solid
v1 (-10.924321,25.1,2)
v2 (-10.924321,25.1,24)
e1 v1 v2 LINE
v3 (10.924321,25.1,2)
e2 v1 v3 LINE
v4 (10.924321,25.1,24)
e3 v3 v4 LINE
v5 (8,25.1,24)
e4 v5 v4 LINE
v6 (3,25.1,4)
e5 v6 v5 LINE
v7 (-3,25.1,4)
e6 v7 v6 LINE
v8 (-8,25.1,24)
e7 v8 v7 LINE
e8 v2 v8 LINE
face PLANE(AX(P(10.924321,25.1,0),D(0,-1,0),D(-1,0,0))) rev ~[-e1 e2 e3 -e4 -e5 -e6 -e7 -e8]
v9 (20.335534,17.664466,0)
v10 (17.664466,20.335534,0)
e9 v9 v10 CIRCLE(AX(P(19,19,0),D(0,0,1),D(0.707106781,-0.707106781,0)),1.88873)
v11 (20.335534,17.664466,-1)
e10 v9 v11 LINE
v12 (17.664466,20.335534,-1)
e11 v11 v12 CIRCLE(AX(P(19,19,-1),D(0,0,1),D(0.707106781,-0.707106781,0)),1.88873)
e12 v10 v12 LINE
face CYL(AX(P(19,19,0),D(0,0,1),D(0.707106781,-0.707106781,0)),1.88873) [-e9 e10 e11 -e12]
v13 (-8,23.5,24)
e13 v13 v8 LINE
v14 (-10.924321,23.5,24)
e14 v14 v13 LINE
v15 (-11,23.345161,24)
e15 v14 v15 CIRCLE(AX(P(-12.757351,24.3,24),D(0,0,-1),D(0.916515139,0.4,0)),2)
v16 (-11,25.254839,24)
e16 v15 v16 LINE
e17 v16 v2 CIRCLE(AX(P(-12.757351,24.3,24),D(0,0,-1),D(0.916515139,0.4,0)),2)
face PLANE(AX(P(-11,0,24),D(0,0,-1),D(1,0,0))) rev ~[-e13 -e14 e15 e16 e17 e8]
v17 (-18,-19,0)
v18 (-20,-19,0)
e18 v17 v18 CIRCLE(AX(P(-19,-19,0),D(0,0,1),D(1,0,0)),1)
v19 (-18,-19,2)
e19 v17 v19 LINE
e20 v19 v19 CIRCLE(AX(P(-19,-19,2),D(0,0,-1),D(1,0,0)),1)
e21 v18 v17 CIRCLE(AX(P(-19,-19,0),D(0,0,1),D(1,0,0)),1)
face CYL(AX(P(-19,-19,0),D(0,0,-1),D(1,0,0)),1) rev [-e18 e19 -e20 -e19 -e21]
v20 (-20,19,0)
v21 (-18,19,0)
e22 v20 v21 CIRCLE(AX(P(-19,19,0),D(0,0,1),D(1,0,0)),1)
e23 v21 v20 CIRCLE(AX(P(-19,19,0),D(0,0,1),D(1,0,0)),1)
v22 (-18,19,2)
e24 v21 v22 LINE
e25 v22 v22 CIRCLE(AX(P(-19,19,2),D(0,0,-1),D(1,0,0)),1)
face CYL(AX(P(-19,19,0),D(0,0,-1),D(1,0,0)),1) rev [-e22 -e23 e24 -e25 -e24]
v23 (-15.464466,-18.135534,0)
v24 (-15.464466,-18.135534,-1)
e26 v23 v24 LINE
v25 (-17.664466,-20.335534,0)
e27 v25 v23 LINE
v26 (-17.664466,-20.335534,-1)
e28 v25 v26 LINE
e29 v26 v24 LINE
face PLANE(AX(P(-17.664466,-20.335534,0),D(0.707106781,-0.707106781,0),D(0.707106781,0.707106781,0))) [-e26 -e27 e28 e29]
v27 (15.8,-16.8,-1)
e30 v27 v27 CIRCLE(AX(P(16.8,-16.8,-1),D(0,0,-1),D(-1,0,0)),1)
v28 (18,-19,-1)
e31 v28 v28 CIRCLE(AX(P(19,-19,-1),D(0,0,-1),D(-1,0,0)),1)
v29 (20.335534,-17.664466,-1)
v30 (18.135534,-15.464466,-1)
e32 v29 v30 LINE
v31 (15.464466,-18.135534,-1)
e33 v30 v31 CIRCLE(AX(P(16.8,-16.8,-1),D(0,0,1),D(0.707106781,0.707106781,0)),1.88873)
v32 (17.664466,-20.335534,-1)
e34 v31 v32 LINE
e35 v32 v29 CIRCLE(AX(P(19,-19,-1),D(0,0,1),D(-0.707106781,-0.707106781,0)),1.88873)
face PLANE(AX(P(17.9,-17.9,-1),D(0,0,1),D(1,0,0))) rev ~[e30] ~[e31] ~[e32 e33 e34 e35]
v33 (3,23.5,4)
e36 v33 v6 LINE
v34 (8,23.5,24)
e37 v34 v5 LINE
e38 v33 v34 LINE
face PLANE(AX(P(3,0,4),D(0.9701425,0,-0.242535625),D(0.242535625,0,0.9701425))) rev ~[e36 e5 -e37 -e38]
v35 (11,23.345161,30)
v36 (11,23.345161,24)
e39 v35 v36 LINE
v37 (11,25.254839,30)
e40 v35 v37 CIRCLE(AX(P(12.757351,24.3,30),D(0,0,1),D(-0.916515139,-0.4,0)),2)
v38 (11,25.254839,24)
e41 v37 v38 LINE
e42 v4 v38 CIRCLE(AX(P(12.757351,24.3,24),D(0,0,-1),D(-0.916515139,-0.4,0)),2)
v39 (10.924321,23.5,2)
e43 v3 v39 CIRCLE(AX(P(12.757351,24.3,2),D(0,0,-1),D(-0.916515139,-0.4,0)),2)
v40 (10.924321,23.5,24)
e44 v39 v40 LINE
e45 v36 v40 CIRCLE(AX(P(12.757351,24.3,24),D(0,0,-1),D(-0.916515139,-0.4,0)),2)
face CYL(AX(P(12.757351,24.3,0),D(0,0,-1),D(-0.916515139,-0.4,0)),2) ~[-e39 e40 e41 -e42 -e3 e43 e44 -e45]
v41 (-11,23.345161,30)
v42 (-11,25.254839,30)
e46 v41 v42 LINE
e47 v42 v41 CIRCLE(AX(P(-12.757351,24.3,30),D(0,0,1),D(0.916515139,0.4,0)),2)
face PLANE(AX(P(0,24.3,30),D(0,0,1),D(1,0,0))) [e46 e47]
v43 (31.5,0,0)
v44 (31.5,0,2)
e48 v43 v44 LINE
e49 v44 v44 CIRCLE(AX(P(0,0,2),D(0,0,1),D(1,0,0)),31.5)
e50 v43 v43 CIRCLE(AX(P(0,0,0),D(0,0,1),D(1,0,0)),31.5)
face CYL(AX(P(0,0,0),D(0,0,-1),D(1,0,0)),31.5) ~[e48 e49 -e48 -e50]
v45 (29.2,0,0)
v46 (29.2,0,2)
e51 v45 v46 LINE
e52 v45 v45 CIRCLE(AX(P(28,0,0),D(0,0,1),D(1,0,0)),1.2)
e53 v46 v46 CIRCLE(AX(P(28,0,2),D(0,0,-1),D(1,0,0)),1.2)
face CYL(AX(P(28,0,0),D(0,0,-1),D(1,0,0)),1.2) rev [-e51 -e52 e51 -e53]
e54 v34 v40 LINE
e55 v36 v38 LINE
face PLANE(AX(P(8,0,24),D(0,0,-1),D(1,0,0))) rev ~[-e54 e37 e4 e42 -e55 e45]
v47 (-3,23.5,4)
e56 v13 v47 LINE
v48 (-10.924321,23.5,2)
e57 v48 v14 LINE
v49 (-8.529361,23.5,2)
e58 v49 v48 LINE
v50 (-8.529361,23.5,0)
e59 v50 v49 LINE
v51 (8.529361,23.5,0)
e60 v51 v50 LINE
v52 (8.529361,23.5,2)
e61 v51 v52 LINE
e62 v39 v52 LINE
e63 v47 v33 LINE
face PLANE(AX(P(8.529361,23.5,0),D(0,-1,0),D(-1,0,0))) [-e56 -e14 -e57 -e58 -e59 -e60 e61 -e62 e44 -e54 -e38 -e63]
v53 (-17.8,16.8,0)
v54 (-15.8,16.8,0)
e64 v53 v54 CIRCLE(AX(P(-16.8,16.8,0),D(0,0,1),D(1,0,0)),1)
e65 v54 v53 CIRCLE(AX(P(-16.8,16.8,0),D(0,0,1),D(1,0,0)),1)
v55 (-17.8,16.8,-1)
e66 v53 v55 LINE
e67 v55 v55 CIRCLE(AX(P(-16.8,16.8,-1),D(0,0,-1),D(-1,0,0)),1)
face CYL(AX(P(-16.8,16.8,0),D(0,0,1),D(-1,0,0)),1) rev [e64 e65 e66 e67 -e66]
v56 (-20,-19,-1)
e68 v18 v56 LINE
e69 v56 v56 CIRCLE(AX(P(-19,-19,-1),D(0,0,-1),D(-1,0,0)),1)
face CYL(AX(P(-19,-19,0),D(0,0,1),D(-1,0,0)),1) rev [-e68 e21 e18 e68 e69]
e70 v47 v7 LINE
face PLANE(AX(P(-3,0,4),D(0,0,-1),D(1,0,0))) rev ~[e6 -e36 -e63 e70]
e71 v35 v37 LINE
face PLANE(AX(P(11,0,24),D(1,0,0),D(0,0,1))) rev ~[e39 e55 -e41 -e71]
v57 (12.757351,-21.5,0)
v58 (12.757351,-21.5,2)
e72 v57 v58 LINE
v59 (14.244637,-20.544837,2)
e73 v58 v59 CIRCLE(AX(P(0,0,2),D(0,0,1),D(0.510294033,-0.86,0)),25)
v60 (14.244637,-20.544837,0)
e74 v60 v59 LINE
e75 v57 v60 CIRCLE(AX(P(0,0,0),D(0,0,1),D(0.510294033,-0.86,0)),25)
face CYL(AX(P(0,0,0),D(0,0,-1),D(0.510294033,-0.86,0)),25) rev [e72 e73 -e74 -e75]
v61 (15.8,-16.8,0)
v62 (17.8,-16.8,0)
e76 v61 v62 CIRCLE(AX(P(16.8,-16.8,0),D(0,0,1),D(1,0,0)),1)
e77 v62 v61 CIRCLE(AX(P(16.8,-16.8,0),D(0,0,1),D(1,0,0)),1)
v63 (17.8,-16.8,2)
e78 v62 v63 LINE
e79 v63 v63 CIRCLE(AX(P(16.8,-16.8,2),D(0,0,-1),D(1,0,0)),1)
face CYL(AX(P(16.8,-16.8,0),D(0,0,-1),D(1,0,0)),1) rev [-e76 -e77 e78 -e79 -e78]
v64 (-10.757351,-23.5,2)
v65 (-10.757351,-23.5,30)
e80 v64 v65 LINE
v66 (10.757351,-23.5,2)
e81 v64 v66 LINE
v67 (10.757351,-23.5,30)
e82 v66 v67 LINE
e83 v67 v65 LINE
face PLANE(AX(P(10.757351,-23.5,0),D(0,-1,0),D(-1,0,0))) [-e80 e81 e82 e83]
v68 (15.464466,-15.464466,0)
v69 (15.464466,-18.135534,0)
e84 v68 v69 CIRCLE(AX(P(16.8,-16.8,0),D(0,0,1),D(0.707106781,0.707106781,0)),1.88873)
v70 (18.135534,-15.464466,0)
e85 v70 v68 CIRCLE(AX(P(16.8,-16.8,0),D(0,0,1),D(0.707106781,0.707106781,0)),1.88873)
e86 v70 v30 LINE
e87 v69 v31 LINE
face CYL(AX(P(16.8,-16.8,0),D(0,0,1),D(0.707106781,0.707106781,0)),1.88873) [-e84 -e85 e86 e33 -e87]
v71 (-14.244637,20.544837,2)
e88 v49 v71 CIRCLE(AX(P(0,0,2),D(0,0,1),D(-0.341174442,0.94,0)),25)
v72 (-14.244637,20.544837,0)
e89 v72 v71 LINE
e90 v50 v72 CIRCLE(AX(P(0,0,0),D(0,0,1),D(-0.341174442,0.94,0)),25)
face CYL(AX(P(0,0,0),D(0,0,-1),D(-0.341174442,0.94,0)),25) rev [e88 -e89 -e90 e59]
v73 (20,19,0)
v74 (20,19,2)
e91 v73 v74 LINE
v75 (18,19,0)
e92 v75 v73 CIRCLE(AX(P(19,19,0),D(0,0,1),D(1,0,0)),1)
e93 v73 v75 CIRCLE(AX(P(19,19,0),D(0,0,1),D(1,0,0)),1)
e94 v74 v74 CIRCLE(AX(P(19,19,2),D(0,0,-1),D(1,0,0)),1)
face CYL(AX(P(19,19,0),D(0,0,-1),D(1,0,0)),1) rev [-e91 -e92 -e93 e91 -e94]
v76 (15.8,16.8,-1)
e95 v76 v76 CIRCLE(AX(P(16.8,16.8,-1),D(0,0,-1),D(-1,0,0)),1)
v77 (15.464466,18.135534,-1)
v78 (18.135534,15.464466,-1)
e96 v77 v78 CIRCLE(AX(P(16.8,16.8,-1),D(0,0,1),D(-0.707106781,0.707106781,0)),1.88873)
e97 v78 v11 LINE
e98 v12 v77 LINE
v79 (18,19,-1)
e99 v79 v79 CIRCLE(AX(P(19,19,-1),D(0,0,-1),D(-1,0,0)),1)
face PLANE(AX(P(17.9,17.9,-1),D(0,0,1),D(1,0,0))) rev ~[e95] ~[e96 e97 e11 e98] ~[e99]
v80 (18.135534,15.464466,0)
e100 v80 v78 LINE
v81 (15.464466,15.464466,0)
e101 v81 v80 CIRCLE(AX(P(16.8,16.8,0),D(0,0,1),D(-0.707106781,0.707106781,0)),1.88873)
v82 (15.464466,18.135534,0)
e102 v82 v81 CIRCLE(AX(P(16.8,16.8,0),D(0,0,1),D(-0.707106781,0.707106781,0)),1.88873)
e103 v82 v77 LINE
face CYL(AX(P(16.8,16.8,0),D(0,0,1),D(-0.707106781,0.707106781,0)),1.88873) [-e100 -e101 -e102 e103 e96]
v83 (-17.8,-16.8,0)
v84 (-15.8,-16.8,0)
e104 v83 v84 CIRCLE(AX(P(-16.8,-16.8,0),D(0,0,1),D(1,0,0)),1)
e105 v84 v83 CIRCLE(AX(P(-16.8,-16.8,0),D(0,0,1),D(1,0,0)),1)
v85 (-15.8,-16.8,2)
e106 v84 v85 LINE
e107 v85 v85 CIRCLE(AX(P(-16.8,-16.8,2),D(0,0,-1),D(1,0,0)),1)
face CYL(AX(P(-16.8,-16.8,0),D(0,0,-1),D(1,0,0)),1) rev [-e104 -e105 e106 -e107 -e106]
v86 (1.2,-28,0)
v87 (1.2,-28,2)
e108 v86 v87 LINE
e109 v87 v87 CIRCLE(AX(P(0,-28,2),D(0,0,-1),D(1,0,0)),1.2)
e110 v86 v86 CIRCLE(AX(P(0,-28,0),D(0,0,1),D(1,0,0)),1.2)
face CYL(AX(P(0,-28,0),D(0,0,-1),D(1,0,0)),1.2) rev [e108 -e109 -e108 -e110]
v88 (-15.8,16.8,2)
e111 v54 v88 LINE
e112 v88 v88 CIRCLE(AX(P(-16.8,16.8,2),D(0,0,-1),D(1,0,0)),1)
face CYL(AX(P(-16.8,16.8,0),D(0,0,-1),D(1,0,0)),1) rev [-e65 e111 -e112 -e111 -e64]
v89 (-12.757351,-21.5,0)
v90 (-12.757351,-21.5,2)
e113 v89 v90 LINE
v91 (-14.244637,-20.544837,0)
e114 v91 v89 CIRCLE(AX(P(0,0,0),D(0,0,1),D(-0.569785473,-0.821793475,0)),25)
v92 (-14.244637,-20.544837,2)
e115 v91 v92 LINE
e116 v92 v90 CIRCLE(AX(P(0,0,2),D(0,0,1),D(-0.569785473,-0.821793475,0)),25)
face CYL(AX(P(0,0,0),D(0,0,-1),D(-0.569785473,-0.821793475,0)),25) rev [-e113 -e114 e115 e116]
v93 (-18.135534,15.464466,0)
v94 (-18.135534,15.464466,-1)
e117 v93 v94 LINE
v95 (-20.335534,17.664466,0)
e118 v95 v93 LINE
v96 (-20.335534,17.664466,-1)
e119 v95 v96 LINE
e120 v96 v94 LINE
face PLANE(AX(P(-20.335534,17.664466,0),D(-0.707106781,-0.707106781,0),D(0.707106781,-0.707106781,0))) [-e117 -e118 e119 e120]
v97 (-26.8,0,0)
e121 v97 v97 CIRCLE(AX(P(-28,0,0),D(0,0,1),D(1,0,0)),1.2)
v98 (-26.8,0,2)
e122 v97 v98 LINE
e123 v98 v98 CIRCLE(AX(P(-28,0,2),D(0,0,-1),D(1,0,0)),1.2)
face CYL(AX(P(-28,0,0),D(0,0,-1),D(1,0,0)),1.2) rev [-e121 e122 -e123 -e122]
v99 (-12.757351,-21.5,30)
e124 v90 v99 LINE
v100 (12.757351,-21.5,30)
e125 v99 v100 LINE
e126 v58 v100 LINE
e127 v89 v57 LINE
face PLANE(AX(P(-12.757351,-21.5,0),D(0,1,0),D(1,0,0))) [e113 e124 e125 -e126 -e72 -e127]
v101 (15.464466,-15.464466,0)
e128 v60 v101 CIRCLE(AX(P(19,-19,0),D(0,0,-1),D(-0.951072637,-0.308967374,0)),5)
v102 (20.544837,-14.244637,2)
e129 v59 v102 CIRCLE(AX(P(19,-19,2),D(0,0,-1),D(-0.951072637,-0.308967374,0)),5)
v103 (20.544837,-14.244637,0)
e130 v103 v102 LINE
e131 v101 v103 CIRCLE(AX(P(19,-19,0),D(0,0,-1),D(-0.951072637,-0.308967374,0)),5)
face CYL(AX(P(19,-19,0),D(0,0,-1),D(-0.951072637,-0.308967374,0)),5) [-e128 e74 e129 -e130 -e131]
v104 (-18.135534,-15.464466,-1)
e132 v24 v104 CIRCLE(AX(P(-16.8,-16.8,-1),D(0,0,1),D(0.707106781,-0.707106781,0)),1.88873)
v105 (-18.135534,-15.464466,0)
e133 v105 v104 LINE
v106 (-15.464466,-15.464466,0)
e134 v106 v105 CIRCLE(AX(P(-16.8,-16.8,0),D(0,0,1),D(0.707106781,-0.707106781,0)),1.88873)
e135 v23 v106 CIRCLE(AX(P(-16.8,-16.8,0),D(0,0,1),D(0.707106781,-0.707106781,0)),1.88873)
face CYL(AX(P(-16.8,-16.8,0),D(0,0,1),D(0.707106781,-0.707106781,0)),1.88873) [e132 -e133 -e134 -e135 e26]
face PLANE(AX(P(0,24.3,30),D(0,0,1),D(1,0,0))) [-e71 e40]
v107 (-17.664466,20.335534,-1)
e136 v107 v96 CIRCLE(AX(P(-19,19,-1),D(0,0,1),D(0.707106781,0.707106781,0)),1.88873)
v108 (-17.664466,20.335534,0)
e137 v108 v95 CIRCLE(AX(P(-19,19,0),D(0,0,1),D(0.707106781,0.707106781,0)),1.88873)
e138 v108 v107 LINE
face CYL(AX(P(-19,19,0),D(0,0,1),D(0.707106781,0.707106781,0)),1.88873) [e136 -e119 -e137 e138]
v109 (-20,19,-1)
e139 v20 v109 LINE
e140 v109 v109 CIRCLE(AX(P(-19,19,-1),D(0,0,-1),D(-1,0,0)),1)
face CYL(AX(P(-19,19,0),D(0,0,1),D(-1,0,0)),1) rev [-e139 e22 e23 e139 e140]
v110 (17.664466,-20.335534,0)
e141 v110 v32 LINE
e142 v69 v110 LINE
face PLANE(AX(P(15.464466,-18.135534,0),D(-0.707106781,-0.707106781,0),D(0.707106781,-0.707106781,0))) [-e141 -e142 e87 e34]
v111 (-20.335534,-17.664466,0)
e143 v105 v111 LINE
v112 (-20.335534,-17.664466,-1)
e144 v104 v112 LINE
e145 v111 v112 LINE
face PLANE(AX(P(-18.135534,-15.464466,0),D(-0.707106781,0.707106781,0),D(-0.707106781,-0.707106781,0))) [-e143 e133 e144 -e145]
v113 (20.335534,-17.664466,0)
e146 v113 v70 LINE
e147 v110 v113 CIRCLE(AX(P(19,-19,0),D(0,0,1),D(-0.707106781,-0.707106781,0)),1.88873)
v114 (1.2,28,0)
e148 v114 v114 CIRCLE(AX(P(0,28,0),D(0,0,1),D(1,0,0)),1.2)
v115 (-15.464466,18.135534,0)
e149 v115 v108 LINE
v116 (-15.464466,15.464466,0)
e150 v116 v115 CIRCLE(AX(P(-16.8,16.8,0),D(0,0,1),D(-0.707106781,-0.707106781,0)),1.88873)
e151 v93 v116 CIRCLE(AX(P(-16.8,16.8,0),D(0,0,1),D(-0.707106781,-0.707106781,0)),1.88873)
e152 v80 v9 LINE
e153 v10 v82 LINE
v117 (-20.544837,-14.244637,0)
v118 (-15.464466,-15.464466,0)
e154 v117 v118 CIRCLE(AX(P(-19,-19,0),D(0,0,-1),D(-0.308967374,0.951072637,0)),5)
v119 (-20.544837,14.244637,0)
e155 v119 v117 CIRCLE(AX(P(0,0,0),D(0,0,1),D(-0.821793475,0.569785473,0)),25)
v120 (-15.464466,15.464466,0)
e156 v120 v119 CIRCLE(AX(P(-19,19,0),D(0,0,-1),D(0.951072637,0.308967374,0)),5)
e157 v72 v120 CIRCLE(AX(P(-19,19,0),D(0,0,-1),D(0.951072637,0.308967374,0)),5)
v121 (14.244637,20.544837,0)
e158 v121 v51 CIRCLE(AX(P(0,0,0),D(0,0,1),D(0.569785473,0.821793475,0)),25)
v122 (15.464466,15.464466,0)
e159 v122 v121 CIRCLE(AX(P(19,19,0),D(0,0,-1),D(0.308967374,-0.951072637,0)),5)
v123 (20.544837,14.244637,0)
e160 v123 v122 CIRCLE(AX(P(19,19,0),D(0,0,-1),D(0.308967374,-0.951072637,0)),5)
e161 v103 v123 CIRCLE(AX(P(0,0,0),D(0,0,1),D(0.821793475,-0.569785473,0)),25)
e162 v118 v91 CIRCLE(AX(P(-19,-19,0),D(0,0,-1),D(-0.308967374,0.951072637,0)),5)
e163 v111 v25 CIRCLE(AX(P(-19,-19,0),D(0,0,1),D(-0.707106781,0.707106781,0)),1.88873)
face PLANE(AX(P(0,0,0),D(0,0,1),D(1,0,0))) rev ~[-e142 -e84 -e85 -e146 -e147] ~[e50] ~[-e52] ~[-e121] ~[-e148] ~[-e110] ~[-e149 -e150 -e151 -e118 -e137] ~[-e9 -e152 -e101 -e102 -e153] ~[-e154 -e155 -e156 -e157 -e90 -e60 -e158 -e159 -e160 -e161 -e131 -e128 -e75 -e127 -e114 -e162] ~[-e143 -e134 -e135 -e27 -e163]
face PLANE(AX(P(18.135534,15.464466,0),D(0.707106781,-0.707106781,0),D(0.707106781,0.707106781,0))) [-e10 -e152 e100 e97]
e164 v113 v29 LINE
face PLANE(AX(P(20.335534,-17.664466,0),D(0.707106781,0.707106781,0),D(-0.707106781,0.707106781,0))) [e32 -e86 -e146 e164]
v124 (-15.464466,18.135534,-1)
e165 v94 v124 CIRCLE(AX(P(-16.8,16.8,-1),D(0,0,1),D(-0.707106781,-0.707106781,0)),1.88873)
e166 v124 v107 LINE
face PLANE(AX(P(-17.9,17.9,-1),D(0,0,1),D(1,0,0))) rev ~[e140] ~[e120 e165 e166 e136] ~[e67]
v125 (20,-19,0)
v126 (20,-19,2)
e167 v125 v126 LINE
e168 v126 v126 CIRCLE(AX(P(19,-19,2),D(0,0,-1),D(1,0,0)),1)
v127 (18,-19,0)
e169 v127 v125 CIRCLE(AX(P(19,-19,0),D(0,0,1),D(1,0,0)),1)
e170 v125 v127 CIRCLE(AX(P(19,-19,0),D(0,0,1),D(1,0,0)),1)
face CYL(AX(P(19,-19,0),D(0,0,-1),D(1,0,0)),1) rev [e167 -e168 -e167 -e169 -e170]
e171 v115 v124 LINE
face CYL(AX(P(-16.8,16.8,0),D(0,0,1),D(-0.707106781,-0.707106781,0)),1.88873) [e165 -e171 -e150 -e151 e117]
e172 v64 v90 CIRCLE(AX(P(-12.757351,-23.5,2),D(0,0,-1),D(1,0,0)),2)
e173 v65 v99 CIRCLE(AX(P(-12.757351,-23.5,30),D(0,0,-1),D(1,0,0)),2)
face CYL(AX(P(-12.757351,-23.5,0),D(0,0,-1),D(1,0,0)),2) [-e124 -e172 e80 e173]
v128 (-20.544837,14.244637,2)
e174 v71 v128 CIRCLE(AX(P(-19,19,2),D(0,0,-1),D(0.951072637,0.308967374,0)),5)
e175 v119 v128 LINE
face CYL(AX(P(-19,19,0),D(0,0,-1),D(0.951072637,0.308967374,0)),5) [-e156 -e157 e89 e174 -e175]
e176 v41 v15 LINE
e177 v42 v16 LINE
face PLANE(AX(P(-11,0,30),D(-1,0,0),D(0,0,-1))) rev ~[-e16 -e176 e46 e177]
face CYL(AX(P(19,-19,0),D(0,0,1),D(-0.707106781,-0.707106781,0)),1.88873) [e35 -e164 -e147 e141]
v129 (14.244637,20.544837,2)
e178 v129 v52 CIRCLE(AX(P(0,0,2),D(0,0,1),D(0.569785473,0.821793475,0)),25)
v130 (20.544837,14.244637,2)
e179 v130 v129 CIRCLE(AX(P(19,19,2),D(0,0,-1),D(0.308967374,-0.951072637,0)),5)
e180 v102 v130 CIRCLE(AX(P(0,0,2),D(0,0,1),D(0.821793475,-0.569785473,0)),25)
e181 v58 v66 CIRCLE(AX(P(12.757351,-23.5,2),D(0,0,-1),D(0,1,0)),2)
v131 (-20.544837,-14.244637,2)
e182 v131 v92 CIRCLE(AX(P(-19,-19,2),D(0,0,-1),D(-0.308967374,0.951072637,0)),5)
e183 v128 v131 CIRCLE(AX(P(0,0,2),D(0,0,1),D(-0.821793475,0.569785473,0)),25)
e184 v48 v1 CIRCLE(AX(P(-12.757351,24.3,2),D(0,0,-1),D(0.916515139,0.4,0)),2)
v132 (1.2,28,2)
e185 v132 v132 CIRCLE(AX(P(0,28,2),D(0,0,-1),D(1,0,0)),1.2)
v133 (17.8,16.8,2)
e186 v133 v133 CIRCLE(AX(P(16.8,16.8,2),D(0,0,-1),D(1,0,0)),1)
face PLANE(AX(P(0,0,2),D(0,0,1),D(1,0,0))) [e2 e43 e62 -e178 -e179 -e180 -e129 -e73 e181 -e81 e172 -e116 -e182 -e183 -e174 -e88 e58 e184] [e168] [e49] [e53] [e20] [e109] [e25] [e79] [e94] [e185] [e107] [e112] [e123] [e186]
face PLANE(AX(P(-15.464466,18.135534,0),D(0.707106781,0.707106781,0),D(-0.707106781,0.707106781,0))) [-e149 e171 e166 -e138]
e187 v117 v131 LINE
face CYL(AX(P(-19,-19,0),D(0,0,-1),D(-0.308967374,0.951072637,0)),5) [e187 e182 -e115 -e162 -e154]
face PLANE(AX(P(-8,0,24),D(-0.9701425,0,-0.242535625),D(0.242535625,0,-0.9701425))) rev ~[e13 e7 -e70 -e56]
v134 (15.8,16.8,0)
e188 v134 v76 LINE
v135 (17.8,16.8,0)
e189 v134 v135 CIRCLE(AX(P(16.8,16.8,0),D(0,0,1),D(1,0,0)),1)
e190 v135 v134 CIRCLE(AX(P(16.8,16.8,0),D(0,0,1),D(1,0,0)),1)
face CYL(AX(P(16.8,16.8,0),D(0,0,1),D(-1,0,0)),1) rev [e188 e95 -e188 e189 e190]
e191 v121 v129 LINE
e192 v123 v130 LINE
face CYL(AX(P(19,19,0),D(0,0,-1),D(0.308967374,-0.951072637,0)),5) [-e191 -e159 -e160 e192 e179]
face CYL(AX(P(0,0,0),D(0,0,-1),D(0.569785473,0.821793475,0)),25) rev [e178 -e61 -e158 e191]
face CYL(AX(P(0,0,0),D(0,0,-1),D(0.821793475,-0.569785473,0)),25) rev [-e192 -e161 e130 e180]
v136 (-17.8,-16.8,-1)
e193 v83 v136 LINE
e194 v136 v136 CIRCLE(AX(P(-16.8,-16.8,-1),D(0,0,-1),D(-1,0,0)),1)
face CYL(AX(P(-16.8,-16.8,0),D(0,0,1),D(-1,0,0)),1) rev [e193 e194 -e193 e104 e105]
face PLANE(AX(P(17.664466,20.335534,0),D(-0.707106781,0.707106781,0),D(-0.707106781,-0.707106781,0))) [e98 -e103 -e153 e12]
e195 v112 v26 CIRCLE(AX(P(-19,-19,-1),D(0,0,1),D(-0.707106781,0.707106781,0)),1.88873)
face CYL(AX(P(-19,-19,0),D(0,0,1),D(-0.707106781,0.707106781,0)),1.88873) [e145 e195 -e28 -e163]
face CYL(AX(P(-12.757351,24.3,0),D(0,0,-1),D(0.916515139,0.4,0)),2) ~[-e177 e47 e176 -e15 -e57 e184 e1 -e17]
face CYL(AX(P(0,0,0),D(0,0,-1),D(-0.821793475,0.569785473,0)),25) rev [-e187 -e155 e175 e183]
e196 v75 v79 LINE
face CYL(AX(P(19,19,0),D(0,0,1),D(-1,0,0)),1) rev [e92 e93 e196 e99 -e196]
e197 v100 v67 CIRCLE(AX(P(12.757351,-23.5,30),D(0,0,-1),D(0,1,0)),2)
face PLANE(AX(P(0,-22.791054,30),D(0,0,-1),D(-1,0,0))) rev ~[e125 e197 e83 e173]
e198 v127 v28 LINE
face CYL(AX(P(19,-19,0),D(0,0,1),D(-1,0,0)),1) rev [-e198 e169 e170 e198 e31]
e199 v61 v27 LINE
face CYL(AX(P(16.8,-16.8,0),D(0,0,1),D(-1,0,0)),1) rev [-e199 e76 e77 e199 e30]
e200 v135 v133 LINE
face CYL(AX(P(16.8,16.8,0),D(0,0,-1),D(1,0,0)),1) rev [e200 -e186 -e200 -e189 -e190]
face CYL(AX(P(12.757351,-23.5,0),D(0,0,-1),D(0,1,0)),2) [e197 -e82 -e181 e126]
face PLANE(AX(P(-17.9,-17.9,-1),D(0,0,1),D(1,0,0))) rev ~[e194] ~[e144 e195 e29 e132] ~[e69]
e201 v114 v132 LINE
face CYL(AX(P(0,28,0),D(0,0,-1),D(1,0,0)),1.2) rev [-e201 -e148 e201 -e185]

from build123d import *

# Parameters (mm, degrees)
SKETCH1_R           = 31.5
BOSS_EXTRUDE1_DEPTH = 2
SKETCH2_R           = 1
SKETCH2_R_2         = 1.2
CUT_EXTRUDE2_DEPTH  = 3
SKETCH5_R           = 1
BOSS_EXTRUDE3_DEPTH = 1
BOSS_EXTRUDE2_DEPTH = 30
CUT_EXTRUDE3_DEPTH  = 32.5


with BuildPart() as part:
    # Sketch1 → Boss-Extrude1 (new body)
    with BuildSketch(Plane.XY):
        Circle(SKETCH1_R)
        with BuildLine():
            Line((-12.757350822, -21.5), (12.757350822, -21.5))
            ThreePointArc((12.757350822, -21.5), (13.509438116, -21.035567066), (14.244636813, -20.544836871))
            ThreePointArc((14.244636813, -20.544836871), (15.464466094, -15.464466094), (20.544836871, -14.244636813))
            ThreePointArc((20.544836871, -14.244636813), (25, 0), (20.544836871, 14.244636813))
            ThreePointArc((20.544836871, 14.244636813), (15.464466094, 15.464466094), (14.244636813, 20.544836871))
            ThreePointArc((14.244636813, 20.544836871), (11.482464544, 22.207048611), (8.529361055, 23.5))
            Line((8.529361055, 23.5), (-8.529361055, 23.5))
            ThreePointArc((-8.529361055, 23.5), (-11.482464544, 22.207048611), (-14.244636813, 20.544836871))
            ThreePointArc((-14.244636813, 20.544836871), (-15.464466094, 15.464466094), (-20.544836871, 14.244636813))
            ThreePointArc((-20.544836871, 14.244636813), (-25, 0), (-20.544836871, -14.244636813))
            ThreePointArc((-20.544836871, -14.244636813), (-15.464466094, -15.464466094), (-14.244636813, -20.544836871))
            ThreePointArc((-14.244636813, -20.544836871), (-13.509438116, -21.035567066), (-12.757350822, -21.5))
        make_face(mode=Mode.SUBTRACT)
    extrude(amount=BOSS_EXTRUDE1_DEPTH)

    # Sketch2 → Cut-Extrude2 (cut, through all)
    with BuildSketch(Plane.XY):
        with Locations((-19, 19)):
            Circle(SKETCH2_R)
        with Locations((-16.8, 16.8)):
            Circle(SKETCH2_R)
        with Locations((19, 19)):
            Circle(SKETCH2_R)
        with Locations((16.8, 16.8)):
            Circle(SKETCH2_R)
        with Locations((-19, -19)):
            Circle(SKETCH2_R)
        with Locations((-16.8, -16.8)):
            Circle(SKETCH2_R)
        with Locations((19, -19)):
            Circle(SKETCH2_R)
        with Locations((16.8, -16.8)):
            Circle(SKETCH2_R)
        with Locations((-28, 0)):
            Circle(SKETCH2_R_2)
        with Locations((28, 0)):
            Circle(SKETCH2_R_2)
        with Locations((0, 28)):
            Circle(SKETCH2_R_2)
        with Locations((0, -28)):
            Circle(SKETCH2_R_2)
    extrude(amount=CUT_EXTRUDE2_DEPTH, mode=Mode.SUBTRACT)

    # Sketch5 → Boss-Extrude3 (add)
    with BuildSketch(Plane(origin=(0, 0, 0), x_dir=(-1, 0, 0), z_dir=(0, 0, -1))):
        with BuildLine():
            Line((-17.664466094, 20.335533906), (-15.464466094, 18.135533906))
            ThreePointArc((-15.464466094, 18.135533906), (-15.464466094, 15.464466094), (-18.135533906, 15.464466094))
            Line((-18.135533906, 15.464466094), (-20.335533906, 17.664466094))
            ThreePointArc((-20.335533906, 17.664466094), (-20.335533906, 20.335533906), (-17.664466094, 20.335533906))
        make_face()
        with Locations((-19, 19)):
            Circle(SKETCH5_R, mode=Mode.SUBTRACT)
        with Locations((-16.8, 16.8)):
            Circle(SKETCH5_R, mode=Mode.SUBTRACT)
        with BuildLine():
            Line((20.335533906, 17.664466094), (18.135533906, 15.464466094))
            ThreePointArc((18.135533906, 15.464466094), (15.464466094, 15.464466094), (15.464466094, 18.135533906))
            Line((15.464466094, 18.135533906), (17.664466094, 20.335533906))
            ThreePointArc((17.664466094, 20.335533906), (20.335533906, 20.335533906), (20.335533906, 17.664466094))
        make_face()
        with Locations((16.8, 16.8)):
            Circle(SKETCH5_R, mode=Mode.SUBTRACT)
        with Locations((19, 19)):
            Circle(SKETCH5_R, mode=Mode.SUBTRACT)
        with BuildLine():
            Line((17.664466094, -20.335533906), (15.464466094, -18.135533906))
            ThreePointArc((15.464466094, -18.135533906), (15.464466094, -15.464466094), (18.135533906, -15.464466094))
            Line((18.135533906, -15.464466094), (20.335533906, -17.664466094))
            ThreePointArc((20.335533906, -17.664466094), (20.335533906, -20.335533906), (17.664466094, -20.335533906))
        make_face()
        with Locations((16.8, -16.8)):
            Circle(SKETCH5_R, mode=Mode.SUBTRACT)
        with Locations((19, -19)):
            Circle(SKETCH5_R, mode=Mode.SUBTRACT)
        with BuildLine():
            Line((-20.335533906, -17.664466094), (-18.135533906, -15.464466094))
            ThreePointArc((-18.135533906, -15.464466094), (-15.464466094, -15.464466094), (-15.464466094, -18.135533906))
            Line((-15.464466094, -18.135533906), (-17.664466094, -20.335533906))
            ThreePointArc((-17.664466094, -20.335533906), (-20.335533906, -20.335533906), (-20.335533906, -17.664466094))
        make_face()
        with Locations((-16.8, -16.8)):
            Circle(SKETCH5_R, mode=Mode.SUBTRACT)
        with Locations((-19, -19)):
            Circle(SKETCH5_R, mode=Mode.SUBTRACT)
    extrude(amount=BOSS_EXTRUDE3_DEPTH)

    # Sketch3 → Boss-Extrude2 (add)
    with BuildSketch(Plane.XY):
        with BuildLine():
            Line((-10.924320544, 23.5), (10.924320544, 23.5))
            ThreePointArc((10.924320544, 23.5), (14.757350822, 24.3), (10.924320544, 25.1))
            Line((10.924320544, 25.1), (-10.924320544, 25.1))
            ThreePointArc((-10.924320544, 25.1), (-14.757350822, 24.3), (-10.924320544, 23.5))
        make_face()
        with BuildLine():
            Line((-12.757350822, -21.5), (12.757350822, -21.5))
            ThreePointArc((12.757350822, -21.5), (14.171564385, -24.914213562), (10.757350822, -23.5))
            Line((10.757350822, -23.5), (-10.757350822, -23.5))
            ThreePointArc((-10.757350822, -23.5), (-14.171564385, -24.914213562), (-12.757350822, -21.5))
        make_face()
    extrude(amount=BOSS_EXTRUDE2_DEPTH)

    # Sketch4 → Cut-Extrude3 (cut, through all)
    with BuildSketch(Plane(origin=(0, 0, 0), x_dir=(1, 0, 0), z_dir=(0, 1, 0))):
        Polygon((-11, -30), (-11, -24), (-8, -24), (-3, -4), (3, -4), (8, -24), (11, -24), (11, -30), align=None)
    extrude(amount=CUT_EXTRUDE3_DEPTH, mode=Mode.SUBTRACT)


solid = part.part
